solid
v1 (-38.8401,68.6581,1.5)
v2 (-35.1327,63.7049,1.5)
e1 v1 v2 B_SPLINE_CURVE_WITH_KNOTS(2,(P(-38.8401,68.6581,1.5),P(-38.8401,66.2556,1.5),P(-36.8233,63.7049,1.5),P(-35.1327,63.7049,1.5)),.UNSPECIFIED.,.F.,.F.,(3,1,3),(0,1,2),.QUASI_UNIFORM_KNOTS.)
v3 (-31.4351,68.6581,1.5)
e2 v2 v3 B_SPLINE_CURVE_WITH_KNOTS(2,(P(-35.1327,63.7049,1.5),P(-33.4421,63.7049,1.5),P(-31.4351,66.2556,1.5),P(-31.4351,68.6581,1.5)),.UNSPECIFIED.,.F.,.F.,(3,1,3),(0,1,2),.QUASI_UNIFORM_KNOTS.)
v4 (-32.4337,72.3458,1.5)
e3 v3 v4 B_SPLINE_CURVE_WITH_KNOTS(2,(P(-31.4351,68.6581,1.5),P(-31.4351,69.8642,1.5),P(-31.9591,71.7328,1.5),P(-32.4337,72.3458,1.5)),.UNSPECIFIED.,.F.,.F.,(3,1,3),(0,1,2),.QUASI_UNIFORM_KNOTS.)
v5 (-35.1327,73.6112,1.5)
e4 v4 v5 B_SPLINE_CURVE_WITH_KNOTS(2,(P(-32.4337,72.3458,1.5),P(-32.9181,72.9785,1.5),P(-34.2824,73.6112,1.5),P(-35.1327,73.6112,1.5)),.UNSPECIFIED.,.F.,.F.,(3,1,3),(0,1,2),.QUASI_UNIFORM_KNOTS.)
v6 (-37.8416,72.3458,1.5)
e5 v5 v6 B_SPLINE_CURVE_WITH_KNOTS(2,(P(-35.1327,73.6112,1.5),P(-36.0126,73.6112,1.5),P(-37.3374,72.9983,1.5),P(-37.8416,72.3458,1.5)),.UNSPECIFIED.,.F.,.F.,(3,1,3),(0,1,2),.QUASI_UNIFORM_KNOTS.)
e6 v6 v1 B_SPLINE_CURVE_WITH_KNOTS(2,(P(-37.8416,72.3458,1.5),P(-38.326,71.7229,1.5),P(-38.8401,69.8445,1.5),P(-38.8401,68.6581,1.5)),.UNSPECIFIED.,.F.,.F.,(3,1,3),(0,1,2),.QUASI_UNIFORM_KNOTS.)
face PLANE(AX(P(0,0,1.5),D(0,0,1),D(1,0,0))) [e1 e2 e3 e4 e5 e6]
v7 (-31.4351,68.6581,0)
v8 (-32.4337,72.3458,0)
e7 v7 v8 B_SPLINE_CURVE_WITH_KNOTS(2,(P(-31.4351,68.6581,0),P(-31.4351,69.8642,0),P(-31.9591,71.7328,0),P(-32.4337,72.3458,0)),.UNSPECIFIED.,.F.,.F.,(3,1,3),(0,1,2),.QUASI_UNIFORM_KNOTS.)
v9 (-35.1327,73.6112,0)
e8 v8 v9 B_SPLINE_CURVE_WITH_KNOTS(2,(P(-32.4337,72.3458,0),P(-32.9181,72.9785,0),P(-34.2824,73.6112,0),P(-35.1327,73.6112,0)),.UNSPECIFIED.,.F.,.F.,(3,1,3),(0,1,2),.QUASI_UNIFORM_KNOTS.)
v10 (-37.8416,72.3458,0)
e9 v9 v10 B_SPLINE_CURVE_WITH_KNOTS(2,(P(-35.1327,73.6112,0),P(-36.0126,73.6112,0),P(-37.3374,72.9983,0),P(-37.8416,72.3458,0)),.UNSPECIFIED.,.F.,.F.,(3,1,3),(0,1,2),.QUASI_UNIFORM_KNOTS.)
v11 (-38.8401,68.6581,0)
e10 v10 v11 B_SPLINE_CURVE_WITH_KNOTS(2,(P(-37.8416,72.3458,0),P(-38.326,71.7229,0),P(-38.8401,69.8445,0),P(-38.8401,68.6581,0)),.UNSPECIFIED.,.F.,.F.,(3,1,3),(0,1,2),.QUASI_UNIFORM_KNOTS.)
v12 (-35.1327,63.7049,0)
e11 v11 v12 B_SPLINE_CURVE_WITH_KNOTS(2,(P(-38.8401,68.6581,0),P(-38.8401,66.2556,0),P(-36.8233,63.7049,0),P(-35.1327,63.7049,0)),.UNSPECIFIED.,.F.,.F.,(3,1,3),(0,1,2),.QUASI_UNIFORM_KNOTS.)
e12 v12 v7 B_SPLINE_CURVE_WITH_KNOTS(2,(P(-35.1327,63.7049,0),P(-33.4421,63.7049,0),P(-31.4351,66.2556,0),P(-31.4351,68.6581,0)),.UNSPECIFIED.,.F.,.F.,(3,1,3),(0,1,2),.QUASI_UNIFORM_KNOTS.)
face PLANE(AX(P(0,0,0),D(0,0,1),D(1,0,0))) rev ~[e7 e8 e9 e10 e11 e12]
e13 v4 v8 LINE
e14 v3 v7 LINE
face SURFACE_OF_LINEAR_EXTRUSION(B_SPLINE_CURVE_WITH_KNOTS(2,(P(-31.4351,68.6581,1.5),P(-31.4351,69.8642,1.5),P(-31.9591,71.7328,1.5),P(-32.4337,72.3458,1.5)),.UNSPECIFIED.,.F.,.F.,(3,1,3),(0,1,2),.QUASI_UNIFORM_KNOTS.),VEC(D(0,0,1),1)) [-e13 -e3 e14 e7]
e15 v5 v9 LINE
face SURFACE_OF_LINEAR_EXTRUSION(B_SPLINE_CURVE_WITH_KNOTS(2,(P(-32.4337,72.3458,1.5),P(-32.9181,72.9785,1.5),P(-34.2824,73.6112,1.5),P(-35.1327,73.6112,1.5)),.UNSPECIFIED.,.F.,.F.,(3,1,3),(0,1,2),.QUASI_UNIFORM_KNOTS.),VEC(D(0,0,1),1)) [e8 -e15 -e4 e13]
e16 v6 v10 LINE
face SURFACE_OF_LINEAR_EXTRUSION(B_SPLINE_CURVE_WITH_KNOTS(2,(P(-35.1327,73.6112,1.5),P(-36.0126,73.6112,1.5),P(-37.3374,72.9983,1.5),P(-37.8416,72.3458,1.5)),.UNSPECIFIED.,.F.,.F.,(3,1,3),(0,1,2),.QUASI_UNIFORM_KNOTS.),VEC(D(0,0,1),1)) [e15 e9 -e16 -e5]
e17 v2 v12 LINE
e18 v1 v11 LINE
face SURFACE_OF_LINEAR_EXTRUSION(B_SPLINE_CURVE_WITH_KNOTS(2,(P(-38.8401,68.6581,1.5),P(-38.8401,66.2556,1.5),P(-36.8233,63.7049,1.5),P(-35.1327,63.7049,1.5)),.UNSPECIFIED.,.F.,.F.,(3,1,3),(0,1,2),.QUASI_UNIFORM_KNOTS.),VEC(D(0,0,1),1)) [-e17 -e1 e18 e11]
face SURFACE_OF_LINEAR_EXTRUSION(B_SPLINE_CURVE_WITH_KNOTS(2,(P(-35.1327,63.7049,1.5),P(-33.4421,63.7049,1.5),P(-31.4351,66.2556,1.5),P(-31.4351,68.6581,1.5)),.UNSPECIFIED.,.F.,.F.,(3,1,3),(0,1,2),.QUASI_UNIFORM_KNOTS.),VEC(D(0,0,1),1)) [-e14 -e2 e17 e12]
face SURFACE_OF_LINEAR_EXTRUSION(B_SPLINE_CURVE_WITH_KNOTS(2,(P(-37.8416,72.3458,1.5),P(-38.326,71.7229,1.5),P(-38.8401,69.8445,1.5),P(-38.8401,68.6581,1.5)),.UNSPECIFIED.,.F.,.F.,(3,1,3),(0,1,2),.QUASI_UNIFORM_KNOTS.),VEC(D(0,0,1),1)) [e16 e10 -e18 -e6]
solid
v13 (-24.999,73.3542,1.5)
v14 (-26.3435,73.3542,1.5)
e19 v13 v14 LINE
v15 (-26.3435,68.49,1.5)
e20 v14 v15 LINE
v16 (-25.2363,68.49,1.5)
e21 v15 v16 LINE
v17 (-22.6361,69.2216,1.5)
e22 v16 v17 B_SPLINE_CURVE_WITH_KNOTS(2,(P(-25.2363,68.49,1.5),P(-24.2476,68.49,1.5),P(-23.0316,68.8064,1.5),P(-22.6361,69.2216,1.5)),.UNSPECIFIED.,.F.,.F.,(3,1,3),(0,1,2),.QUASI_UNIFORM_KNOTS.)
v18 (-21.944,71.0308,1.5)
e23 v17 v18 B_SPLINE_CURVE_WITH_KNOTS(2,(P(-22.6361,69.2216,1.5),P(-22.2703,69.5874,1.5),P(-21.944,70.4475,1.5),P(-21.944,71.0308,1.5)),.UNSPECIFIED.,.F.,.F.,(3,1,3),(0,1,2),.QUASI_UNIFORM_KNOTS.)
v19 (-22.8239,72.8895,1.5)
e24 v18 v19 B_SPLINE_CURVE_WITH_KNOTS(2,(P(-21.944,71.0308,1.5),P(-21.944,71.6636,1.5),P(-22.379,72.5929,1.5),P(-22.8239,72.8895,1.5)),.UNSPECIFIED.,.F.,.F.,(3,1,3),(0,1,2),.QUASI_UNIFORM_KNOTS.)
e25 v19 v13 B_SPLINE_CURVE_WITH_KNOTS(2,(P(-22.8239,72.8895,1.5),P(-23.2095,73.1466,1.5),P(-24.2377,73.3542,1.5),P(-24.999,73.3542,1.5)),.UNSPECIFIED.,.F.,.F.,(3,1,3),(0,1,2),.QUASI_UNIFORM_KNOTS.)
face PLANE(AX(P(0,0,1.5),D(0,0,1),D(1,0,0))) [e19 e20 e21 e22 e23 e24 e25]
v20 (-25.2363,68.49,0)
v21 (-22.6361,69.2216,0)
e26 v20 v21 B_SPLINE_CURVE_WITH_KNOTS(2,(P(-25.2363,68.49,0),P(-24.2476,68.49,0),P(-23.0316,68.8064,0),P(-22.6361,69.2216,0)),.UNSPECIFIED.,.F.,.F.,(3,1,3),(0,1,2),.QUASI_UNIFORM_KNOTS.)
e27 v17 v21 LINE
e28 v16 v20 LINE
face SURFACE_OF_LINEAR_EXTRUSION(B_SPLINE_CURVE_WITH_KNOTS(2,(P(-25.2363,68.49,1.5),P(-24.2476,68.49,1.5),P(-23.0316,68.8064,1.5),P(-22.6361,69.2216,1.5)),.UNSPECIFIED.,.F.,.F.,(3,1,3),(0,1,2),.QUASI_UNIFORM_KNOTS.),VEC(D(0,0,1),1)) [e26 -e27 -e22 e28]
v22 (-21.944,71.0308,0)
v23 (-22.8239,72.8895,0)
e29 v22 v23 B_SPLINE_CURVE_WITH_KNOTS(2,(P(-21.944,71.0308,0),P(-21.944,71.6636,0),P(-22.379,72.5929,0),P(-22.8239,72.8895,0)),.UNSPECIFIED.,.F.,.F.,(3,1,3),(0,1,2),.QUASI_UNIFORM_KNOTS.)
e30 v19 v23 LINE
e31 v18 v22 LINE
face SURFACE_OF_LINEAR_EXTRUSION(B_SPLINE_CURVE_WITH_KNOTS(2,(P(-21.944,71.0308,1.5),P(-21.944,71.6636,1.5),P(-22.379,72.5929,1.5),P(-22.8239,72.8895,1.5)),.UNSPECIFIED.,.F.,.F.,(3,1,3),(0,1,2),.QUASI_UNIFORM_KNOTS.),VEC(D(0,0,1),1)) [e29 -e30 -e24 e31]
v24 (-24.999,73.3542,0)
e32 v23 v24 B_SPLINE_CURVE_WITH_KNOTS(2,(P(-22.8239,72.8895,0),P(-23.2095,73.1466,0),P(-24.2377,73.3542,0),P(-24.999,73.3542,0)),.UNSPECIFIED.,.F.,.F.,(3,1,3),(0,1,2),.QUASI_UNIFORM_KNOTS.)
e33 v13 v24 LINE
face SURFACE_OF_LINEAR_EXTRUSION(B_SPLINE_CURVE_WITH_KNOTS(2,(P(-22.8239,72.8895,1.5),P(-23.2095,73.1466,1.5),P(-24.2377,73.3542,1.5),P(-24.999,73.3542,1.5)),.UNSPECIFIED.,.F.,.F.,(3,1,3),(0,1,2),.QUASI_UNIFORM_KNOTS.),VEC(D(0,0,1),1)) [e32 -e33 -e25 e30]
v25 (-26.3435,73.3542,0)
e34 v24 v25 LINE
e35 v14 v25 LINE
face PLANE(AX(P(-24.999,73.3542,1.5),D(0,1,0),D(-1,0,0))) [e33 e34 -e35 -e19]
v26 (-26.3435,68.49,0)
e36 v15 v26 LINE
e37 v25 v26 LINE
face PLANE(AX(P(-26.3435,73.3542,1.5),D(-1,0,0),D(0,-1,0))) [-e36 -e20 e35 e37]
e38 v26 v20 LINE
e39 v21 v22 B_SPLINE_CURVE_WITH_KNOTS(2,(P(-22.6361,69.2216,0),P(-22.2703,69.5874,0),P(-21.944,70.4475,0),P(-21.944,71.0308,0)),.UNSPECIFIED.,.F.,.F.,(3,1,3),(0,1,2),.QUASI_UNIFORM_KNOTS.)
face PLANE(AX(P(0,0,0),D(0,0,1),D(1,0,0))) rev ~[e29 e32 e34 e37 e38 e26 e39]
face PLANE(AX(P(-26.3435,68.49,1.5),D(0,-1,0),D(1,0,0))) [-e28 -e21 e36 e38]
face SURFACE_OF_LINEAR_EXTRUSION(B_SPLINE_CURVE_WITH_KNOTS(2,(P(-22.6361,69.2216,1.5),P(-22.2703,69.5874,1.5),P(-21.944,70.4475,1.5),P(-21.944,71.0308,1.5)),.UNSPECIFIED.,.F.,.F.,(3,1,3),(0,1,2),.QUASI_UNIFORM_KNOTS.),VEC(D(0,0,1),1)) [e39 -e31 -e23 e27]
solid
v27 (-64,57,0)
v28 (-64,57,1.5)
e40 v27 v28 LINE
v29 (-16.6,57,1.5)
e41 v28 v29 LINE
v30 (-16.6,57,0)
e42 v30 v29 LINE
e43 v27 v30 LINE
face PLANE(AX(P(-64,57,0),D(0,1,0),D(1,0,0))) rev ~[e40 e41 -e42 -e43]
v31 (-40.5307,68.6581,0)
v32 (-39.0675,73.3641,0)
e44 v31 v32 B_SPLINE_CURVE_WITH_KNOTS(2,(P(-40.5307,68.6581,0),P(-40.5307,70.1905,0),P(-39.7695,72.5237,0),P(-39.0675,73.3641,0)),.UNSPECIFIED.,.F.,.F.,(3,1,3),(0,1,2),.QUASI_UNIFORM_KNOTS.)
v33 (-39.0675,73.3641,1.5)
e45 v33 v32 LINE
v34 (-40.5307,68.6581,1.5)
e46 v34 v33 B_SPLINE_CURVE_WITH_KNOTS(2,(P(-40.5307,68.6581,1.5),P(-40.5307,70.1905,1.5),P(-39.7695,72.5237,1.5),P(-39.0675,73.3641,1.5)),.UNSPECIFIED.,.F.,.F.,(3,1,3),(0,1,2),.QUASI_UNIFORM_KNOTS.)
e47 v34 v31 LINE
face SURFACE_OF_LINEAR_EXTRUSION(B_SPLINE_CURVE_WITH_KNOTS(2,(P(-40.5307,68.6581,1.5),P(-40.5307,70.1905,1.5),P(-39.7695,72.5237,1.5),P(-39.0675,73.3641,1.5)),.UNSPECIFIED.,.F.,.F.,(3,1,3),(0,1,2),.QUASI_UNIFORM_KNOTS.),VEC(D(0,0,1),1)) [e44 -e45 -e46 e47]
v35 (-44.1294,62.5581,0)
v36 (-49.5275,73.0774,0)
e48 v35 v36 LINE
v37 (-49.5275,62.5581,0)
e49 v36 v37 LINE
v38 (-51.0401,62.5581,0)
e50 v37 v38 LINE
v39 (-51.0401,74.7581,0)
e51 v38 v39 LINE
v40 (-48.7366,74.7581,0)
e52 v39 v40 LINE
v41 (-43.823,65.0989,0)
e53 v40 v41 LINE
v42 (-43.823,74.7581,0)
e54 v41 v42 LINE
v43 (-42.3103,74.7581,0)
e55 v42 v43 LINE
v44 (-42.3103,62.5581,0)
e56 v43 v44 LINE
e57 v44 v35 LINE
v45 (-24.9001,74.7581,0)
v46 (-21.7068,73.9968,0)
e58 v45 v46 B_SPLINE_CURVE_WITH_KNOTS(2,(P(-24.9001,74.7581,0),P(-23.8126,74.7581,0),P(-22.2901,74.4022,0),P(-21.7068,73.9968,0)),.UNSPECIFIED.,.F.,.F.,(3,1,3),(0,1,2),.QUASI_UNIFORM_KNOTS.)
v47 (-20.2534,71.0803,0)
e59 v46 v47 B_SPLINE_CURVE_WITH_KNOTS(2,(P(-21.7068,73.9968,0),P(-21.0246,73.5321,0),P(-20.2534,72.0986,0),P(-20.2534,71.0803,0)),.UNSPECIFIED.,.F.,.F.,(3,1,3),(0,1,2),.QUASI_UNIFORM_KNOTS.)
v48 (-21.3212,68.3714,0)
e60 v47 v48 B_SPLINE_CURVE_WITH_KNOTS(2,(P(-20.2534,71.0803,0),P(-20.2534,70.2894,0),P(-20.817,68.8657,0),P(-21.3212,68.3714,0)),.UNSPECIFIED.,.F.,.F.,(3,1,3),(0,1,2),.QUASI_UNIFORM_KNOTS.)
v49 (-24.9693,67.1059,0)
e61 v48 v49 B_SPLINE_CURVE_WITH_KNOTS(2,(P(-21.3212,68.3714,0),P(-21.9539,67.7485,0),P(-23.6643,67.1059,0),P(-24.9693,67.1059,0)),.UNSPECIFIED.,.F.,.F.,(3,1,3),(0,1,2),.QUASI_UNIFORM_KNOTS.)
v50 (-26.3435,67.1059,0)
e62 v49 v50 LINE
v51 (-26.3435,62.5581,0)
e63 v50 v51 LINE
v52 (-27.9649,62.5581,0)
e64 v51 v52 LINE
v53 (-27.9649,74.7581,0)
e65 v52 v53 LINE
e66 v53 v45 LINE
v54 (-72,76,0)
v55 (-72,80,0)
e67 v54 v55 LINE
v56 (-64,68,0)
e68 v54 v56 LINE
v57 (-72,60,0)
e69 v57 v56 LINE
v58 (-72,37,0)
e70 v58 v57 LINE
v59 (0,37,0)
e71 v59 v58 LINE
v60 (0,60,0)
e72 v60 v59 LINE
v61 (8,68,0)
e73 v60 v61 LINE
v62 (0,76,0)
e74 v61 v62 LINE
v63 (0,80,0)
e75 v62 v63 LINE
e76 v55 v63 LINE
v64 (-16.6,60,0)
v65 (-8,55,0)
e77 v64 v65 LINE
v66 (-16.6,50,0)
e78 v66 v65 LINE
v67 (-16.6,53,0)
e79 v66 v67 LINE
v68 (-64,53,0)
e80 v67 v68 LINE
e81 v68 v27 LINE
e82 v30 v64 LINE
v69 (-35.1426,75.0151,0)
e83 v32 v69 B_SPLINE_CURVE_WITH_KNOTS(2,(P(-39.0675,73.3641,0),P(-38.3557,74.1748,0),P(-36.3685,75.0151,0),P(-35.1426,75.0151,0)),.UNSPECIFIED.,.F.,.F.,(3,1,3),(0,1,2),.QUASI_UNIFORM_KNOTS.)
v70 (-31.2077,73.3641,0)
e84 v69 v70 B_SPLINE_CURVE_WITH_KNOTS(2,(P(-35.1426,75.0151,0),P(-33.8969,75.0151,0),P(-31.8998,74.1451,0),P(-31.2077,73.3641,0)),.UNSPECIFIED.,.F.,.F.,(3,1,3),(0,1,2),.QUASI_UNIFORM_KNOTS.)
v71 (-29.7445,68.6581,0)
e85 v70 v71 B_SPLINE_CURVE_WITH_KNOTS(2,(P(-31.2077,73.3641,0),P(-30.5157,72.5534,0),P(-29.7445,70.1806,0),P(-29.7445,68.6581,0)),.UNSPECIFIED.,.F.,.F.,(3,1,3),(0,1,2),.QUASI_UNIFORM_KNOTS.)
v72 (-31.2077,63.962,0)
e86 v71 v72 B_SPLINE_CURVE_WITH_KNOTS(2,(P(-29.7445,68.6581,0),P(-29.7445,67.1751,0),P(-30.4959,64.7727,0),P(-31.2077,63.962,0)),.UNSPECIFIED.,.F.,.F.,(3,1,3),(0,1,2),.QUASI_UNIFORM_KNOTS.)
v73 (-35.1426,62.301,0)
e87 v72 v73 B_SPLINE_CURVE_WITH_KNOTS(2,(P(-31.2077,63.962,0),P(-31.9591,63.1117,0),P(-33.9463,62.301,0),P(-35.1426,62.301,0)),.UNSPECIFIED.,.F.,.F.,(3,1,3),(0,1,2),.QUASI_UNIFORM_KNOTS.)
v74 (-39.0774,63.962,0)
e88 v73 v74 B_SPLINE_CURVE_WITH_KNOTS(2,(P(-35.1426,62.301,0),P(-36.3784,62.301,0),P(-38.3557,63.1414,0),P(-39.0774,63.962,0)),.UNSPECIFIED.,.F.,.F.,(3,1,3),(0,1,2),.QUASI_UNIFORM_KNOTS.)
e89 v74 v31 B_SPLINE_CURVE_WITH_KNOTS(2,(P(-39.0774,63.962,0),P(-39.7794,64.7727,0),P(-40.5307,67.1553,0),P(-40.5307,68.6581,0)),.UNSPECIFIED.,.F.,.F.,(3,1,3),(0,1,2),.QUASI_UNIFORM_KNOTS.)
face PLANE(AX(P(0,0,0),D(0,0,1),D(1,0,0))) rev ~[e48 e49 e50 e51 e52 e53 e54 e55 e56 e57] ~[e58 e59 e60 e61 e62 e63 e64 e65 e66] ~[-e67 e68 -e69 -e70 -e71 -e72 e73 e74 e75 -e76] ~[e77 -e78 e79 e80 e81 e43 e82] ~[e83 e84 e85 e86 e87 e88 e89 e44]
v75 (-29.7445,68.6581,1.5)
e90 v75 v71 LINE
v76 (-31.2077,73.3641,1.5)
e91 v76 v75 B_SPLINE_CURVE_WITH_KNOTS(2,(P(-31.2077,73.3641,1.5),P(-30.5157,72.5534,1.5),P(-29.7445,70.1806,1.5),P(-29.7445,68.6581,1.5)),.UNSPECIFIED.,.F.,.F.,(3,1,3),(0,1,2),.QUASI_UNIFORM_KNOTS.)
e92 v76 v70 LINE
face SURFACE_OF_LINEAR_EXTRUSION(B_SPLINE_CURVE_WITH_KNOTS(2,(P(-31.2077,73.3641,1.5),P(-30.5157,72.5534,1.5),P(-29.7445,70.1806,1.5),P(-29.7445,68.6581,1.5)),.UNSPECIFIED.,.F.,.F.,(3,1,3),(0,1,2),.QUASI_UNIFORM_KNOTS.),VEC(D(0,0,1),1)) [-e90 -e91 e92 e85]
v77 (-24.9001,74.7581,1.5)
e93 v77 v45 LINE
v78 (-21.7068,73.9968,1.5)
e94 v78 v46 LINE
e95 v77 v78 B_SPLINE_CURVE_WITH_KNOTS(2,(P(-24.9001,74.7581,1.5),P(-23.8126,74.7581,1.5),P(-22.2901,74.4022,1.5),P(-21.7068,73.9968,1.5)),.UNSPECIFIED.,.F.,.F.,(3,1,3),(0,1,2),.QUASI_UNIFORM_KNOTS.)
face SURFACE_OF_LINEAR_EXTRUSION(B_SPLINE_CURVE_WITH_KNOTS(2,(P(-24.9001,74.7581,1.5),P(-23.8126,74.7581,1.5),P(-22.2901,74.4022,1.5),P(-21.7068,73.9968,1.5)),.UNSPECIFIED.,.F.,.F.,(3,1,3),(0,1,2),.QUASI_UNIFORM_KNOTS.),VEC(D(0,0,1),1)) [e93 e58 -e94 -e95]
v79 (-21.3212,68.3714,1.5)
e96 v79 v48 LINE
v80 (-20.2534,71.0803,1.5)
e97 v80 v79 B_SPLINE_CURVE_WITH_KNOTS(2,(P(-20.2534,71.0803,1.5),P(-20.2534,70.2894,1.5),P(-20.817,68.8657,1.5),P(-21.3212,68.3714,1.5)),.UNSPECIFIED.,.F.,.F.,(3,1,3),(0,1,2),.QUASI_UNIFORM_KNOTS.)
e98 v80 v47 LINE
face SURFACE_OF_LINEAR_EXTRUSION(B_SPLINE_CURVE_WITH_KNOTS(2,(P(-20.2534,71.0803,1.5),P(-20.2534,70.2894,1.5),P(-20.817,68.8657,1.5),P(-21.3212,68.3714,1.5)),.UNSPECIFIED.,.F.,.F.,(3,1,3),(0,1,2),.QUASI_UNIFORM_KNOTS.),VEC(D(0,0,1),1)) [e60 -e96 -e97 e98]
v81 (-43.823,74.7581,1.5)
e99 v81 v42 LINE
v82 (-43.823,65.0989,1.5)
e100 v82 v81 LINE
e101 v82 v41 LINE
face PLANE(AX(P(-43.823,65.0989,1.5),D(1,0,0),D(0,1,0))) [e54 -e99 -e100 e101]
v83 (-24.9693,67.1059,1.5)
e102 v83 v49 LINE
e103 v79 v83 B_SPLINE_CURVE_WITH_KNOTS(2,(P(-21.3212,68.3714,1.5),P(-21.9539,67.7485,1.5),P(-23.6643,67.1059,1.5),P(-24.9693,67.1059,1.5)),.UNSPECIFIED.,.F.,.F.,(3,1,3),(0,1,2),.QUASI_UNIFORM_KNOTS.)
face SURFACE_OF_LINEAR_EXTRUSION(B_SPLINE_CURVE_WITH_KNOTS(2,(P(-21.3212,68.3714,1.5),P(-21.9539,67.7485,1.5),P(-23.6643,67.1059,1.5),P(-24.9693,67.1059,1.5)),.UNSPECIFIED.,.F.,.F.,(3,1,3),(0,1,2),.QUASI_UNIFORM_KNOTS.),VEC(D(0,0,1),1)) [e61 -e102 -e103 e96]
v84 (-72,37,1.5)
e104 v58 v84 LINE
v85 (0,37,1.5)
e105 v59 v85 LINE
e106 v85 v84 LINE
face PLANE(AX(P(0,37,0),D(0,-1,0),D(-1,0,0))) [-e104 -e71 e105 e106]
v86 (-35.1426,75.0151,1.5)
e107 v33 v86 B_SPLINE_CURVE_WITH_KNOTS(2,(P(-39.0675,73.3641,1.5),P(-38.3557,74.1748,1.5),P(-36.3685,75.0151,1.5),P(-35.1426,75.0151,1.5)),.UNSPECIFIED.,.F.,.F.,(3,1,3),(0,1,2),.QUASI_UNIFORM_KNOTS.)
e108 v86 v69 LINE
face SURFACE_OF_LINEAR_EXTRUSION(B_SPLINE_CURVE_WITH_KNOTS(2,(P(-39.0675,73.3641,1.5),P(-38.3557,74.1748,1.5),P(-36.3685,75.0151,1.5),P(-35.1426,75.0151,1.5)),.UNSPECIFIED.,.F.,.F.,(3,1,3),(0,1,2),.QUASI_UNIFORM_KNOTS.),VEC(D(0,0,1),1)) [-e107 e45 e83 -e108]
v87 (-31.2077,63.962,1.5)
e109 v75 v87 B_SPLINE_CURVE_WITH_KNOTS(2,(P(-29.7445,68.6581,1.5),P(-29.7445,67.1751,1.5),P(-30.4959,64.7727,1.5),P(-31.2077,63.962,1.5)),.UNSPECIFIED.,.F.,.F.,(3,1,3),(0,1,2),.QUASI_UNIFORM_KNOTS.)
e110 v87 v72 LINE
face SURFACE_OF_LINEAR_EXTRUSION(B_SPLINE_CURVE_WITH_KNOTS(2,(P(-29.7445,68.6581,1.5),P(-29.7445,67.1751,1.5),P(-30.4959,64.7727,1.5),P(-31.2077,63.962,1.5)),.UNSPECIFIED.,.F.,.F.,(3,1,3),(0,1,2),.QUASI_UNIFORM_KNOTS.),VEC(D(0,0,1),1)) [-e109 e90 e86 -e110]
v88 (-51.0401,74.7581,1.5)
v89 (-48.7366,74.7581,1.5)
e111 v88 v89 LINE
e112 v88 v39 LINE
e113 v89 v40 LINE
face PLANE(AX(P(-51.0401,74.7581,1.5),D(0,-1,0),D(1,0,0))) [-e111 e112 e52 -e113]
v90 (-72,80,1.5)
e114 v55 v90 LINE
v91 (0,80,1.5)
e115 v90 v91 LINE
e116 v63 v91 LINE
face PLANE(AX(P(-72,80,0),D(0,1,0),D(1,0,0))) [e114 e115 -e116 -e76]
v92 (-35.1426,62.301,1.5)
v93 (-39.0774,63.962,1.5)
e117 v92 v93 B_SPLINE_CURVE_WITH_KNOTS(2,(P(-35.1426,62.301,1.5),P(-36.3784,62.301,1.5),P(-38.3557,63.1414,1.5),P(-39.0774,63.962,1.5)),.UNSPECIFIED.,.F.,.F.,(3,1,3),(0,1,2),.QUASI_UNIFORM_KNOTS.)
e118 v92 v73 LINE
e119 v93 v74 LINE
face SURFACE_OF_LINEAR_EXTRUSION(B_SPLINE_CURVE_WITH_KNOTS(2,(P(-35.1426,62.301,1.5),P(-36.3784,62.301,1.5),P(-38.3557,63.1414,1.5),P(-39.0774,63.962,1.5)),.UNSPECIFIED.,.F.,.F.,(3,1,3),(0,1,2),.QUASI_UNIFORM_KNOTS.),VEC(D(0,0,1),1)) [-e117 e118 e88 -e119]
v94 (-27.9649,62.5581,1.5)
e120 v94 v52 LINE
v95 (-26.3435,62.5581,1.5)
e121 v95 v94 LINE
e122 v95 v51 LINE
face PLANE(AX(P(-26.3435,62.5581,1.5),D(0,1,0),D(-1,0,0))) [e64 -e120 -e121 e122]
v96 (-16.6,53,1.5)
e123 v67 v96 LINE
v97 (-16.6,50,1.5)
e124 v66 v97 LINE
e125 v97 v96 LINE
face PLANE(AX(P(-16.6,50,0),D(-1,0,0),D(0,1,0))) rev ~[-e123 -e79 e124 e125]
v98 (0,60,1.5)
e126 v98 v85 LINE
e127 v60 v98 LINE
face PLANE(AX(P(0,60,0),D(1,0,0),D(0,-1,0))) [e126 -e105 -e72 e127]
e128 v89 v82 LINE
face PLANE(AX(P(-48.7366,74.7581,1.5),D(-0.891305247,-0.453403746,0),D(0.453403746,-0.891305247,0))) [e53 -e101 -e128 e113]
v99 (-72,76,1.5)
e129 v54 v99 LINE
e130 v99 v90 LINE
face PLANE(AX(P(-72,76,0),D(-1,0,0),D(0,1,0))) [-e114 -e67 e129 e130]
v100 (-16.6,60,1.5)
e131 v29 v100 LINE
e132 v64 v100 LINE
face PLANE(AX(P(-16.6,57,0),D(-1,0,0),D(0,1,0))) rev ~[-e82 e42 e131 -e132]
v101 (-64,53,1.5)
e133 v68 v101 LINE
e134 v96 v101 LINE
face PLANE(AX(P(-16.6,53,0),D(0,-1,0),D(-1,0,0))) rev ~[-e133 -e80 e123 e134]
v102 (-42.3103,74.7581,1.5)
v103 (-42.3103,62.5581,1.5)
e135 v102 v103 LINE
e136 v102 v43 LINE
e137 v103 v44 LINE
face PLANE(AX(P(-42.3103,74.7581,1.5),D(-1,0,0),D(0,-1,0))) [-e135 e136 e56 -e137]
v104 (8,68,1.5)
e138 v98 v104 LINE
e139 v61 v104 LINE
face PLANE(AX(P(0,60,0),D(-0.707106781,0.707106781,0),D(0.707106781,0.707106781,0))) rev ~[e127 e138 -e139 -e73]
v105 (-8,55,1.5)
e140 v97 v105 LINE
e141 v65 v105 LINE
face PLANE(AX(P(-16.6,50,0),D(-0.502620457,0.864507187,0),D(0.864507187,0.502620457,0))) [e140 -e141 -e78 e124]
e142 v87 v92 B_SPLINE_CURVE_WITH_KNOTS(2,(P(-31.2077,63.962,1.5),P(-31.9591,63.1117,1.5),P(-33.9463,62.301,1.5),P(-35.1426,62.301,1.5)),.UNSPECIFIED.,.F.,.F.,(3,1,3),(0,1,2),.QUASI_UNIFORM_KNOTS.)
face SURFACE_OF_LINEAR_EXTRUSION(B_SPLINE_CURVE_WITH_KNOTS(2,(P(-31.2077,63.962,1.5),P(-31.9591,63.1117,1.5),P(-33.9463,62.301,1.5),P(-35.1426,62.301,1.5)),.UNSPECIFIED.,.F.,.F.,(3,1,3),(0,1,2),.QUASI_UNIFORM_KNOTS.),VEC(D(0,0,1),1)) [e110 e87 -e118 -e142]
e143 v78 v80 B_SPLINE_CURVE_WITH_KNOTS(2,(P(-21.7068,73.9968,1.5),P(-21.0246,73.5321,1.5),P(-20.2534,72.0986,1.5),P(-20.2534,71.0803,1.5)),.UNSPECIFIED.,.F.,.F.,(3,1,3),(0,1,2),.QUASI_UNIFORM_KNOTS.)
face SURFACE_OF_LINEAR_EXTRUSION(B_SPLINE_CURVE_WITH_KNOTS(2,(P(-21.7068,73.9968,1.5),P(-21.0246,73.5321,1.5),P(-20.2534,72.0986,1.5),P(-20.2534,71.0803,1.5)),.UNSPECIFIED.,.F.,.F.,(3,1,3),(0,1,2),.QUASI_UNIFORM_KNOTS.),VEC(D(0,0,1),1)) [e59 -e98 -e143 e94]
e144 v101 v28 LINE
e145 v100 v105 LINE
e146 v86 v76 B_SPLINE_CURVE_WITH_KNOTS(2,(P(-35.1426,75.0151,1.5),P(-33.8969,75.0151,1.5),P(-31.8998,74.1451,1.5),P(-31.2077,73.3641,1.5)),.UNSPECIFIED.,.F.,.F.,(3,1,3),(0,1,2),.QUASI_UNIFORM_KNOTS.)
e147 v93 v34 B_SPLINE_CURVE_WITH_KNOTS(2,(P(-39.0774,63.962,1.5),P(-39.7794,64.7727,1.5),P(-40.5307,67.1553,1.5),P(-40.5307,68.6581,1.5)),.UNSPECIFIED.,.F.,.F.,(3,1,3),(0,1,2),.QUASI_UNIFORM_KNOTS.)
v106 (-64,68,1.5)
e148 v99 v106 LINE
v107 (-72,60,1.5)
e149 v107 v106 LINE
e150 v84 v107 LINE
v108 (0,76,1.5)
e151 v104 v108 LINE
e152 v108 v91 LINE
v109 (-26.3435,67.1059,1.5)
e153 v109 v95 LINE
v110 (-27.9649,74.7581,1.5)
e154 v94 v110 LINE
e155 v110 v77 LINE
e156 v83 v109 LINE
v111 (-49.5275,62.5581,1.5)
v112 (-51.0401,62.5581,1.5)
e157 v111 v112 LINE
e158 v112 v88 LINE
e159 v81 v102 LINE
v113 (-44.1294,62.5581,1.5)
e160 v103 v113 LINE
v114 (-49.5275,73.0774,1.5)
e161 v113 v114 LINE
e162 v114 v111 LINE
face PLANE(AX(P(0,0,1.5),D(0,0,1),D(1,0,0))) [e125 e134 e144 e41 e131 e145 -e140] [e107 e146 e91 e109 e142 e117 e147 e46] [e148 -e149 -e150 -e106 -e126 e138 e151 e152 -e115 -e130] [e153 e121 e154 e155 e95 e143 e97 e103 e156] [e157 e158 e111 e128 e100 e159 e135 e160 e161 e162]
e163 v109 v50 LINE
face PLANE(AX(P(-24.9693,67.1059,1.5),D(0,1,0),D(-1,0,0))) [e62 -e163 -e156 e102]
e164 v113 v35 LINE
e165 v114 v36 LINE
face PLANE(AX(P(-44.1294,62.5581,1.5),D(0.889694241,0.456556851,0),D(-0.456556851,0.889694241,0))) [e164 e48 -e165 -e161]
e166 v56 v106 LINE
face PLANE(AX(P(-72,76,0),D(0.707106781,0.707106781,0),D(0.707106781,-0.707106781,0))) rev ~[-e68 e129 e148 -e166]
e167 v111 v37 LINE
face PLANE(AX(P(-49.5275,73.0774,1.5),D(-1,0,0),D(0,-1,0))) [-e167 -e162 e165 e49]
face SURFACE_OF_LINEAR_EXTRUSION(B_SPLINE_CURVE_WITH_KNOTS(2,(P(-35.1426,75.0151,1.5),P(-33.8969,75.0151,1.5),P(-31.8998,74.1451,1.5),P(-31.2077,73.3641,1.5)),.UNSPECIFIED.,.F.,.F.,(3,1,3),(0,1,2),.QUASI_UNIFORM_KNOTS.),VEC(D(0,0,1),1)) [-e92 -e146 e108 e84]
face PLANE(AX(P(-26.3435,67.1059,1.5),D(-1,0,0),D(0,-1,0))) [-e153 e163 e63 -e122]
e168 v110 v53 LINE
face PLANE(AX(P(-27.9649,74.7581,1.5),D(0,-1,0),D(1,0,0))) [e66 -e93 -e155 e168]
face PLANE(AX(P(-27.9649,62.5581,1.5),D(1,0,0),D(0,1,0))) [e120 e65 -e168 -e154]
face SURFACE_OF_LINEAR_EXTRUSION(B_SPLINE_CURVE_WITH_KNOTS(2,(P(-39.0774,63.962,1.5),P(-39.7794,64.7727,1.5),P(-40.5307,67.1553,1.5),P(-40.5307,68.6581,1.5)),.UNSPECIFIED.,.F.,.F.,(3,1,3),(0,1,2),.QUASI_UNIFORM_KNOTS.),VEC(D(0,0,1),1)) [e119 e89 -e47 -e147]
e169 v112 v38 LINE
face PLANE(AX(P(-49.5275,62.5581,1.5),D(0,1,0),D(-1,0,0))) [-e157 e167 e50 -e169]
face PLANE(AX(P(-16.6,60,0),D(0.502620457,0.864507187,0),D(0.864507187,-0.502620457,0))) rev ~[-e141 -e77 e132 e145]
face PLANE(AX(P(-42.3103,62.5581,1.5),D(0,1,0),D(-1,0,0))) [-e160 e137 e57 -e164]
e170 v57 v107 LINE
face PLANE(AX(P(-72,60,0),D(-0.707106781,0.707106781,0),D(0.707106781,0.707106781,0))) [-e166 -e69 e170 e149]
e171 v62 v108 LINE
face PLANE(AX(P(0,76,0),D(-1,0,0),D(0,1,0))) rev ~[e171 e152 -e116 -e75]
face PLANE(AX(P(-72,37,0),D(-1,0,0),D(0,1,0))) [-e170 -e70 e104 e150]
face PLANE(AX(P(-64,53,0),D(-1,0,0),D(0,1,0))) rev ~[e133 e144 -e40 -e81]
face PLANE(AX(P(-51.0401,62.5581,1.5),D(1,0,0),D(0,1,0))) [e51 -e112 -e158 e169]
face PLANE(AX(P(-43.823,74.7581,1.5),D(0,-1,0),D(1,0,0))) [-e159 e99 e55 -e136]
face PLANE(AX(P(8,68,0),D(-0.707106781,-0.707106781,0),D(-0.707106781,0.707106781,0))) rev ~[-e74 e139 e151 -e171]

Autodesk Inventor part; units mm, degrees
ref_plane "YZ Plane" through (0, 0, 0) normal (1, 0, 0) x (0, 1, 0)
ref_plane "XZ Plane" through (0, 0, 0) normal (0, 1, 0) x (-1, 0, 0)
ref_plane "XY Plane" through (0, 0, 0) normal (0, 0, 1) x (1, 0, 0)
sketch "Sketch1" plane through (0, 0, 0) normal (0, 0, 1) x (1, 0, 0)
  circle A0 centre (-72, 68) radius 8 construction
  line L0 (-72, 60) -> (0, 60) construction
  line L1 (-72, 76) -> (-64, 68)
  line L2 (-72, 60) -> (-64, 68)
  line L3 (-72, 76) -> (-72, 80)
  line L4 (0, 76) -> (0, 80)
  line L5 (-72, 80) -> (0, 80)
  line L6 (-72, 76) -> (11.4847, 76) construction
  line L7 (-64, 68) -> (11.3495, 68) construction
  line L8 (-72, 60) -> (23.0654, 60) construction
  circle A1 centre (0, 68) radius 8 construction
  line L9 (0, 60) -> (8, 68)
  line L10 (8, 68) -> (0, 76)
  line L11 (-34, 51.1) -> (-34, 39.9508) construction
  line L12 (-36, 51.1) -> (-36, 38.5) construction
  line L13 (0, 37) -> (-91.064, 37) construction
  line L14 (0, 37) -> (-72, 37)
  line L15 (-64, 68) -> (-64, -7.5721) construction
  line L16 (31.0795, 0) -> (31.0795, 55) construction
  line L17 (31.0795, 55) -> (-111.8136, 55) construction
  line L18 (-8, 68) -> (-8, -20.4909) construction
  line L19 (-8, 55) -> (-16.6, 55) construction
  line L20 (-16.6, 55) -> (-16.6, 50) construction
  line L21 (-16.6, 50) -> (-8, 55)
  line L22 (-16.6, 60) -> (-8, 55)
  line L23 (-16.6, 50) -> (-16.6, 53)
  line L24 (-16.6, 53) -> (-64, 53)
  line L25 (-64, 53) -> (-64, 57)
  line L26 (-64, 57) -> (-16.6, 57)
  line L27 (-16.6, 57) -> (-16.6, 60)
  line L28 (-72, 37) -> (-72, 60)
  line L29 (-72, 35.1512) -> (-72, 37)
  line L30 (0, 60) -> (0, 37)
  point P0 (0, 78)
  point P1 (-72, 78)
  point P2 (-137.4598, 47.0487)
  dimension "d5" = 72
  dimension "d50" = 55
  dimension "d51" = 8.6
  dimension "d52" = 5
  dimension "d54" = 4
  dimension "d55" = 1.5
extrude "Extrusion7" add sketch "Sketch1" along normal blind 1.5
sketch "Sketch10" plane through (0, 0, 1.5) normal (0, 0, 1) x (1, 0, 0)
  line L0 (-52.276, 75.0151) -> (-43.77, 75.0151) construction
  line L1 (-43.77, 75.0151) -> (-43.77, 65.3644) construction
  line L2 (-43.77, 65.3644) -> (-52.276, 65.3644) construction
  line L3 (-52.276, 65.3644) -> (-52.276, 75.0151) construction
  line L4 (-42.3103, 62.5581) -> (-44.1294, 62.5581)
  line L5 (-44.1294, 62.5581) -> (-49.5275, 73.0774)
  line L6 (-49.5275, 73.0774) -> (-49.5275, 62.5581)
  line L7 (-49.5275, 62.5581) -> (-51.0401, 62.5581)
  line L8 (-51.0401, 62.5581) -> (-51.0401, 74.7581)
  line L9 (-51.0401, 74.7581) -> (-48.7366, 74.7581)
  line L10 (-48.7366, 74.7581) -> (-43.823, 65.0989)
  line L11 (-43.823, 65.0989) -> (-43.823, 74.7581)
  line L12 (-43.823, 74.7581) -> (-42.3103, 74.7581)
  line L13 (-42.3103, 74.7581) -> (-42.3103, 62.5581)
  spline S0 degree 2 poles (-31.2077, 73.3641) (-30.5157, 72.5534) (-29.7445, 70.1806) (-29.7445, 68.6581) knots 0 0 0 1 2 2 2
  spline S1 degree 2 poles (-29.7445, 68.6581) (-29.7445, 67.1751) (-30.4959, 64.7727) (-31.2077, 63.962) knots 0 0 0 1 2 2 2
  spline S2 degree 2 poles (-31.2077, 63.962) (-31.9591, 63.1117) (-33.9463, 62.301) (-35.1426, 62.301) knots 0 0 0 1 2 2 2
  spline S3 degree 2 poles (-35.1426, 62.301) (-36.3784, 62.301) (-38.3557, 63.1414) (-39.0774, 63.962) knots 0 0 0 1 2 2 2
  spline S4 degree 2 poles (-39.0774, 63.962) (-39.7794, 64.7727) (-40.5307, 67.1553) (-40.5307, 68.6581) knots 0 0 0 1 2 2 2
  spline S5 degree 2 poles (-40.5307, 68.6581) (-40.5307, 70.1905) (-39.7695, 72.5237) (-39.0675, 73.3641) knots 0 0 0 1 2 2 2
  spline S6 degree 2 poles (-39.0675, 73.3641) (-38.3557, 74.1748) (-36.3685, 75.0151) (-35.1426, 75.0151) knots 0 0 0 1 2 2 2
  spline S7 degree 2 poles (-35.1426, 75.0151) (-33.8969, 75.0151) (-31.8998, 74.1451) (-31.2077, 73.3641) knots 0 0 0 1 2 2 2
  spline S8 degree 2 poles (-31.4351, 68.6581) (-31.4351, 69.8642) (-31.9591, 71.7328) (-32.4337, 72.3458) knots 0 0 0 1 2 2 2
  spline S9 degree 2 poles (-32.4337, 72.3458) (-32.9181, 72.9785) (-34.2824, 73.6112) (-35.1327, 73.6112) knots 0 0 0 1 2 2 2
  spline S10 degree 2 poles (-35.1327, 73.6112) (-36.0126, 73.6112) (-37.3374, 72.9983) (-37.8416, 72.3458) knots 0 0 0 1 2 2 2
  spline S11 degree 2 poles (-37.8416, 72.3458) (-38.326, 71.7229) (-38.8401, 69.8445) (-38.8401, 68.6581) knots 0 0 0 1 2 2 2
  spline S12 degree 2 poles (-38.8401, 68.6581) (-38.8401, 66.2556) (-36.8233, 63.7049) (-35.1327, 63.7049) knots 0 0 0 1 2 2 2
  spline S13 degree 2 poles (-35.1327, 63.7049) (-33.4421, 63.7049) (-31.4351, 66.2556) (-31.4351, 68.6581) knots 0 0 0 1 2 2 2
  spline S14 degree 2 poles (-20.2534, 71.0803) (-20.2534, 70.2894) (-20.817, 68.8657) (-21.3212, 68.3714) knots 0 0 0 1 2 2 2
  spline S15 degree 2 poles (-21.3212, 68.3714) (-21.9539, 67.7485) (-23.6643, 67.1059) (-24.9693, 67.1059) knots 0 0 0 1 2 2 2
  line L14 (-24.9693, 67.1059) -> (-26.3435, 67.1059)
  line L15 (-26.3435, 67.1059) -> (-26.3435, 62.5581)
  line L16 (-26.3435, 62.5581) -> (-27.9649, 62.5581)
  line L17 (-27.9649, 62.5581) -> (-27.9649, 74.7581)
  line L18 (-27.9649, 74.7581) -> (-24.9001, 74.7581)
  spline S16 degree 2 poles (-24.9001, 74.7581) (-23.8126, 74.7581) (-22.2901, 74.4022) (-21.7068, 73.9968) knots 0 0 0 1 2 2 2
  spline S17 degree 2 poles (-21.7068, 73.9968) (-21.0246, 73.5321) (-20.2534, 72.0986) (-20.2534, 71.0803) knots 0 0 0 1 2 2 2
  spline S18 degree 2 poles (-21.944, 71.0308) (-21.944, 71.6636) (-22.379, 72.5929) (-22.8239, 72.8895) knots 0 0 0 1 2 2 2
  spline S19 degree 2 poles (-22.8239, 72.8895) (-23.2095, 73.1466) (-24.2377, 73.3542) (-24.999, 73.3542) knots 0 0 0 1 2 2 2
  line L19 (-24.999, 73.3542) -> (-26.3435, 73.3542)
  line L20 (-26.3435, 73.3542) -> (-26.3435, 68.49)
  line L21 (-26.3435, 68.49) -> (-25.2363, 68.49)
  spline S20 degree 2 poles (-25.2363, 68.49) (-24.2476, 68.49) (-23.0316, 68.8064) (-22.6361, 69.2216) knots 0 0 0 1 2 2 2
  spline S21 degree 2 poles (-22.6361, 69.2216) (-22.2703, 69.5874) (-21.944, 70.4475) (-21.944, 71.0308) knots 0 0 0 1 2 2 2
  point P0 (0, 0)
extrude "Extrusion11" cut sketch "Sketch10" against normal up to surface (1.5 mm away)
properties part number "MS_R_Front_top_yellow_v3"
